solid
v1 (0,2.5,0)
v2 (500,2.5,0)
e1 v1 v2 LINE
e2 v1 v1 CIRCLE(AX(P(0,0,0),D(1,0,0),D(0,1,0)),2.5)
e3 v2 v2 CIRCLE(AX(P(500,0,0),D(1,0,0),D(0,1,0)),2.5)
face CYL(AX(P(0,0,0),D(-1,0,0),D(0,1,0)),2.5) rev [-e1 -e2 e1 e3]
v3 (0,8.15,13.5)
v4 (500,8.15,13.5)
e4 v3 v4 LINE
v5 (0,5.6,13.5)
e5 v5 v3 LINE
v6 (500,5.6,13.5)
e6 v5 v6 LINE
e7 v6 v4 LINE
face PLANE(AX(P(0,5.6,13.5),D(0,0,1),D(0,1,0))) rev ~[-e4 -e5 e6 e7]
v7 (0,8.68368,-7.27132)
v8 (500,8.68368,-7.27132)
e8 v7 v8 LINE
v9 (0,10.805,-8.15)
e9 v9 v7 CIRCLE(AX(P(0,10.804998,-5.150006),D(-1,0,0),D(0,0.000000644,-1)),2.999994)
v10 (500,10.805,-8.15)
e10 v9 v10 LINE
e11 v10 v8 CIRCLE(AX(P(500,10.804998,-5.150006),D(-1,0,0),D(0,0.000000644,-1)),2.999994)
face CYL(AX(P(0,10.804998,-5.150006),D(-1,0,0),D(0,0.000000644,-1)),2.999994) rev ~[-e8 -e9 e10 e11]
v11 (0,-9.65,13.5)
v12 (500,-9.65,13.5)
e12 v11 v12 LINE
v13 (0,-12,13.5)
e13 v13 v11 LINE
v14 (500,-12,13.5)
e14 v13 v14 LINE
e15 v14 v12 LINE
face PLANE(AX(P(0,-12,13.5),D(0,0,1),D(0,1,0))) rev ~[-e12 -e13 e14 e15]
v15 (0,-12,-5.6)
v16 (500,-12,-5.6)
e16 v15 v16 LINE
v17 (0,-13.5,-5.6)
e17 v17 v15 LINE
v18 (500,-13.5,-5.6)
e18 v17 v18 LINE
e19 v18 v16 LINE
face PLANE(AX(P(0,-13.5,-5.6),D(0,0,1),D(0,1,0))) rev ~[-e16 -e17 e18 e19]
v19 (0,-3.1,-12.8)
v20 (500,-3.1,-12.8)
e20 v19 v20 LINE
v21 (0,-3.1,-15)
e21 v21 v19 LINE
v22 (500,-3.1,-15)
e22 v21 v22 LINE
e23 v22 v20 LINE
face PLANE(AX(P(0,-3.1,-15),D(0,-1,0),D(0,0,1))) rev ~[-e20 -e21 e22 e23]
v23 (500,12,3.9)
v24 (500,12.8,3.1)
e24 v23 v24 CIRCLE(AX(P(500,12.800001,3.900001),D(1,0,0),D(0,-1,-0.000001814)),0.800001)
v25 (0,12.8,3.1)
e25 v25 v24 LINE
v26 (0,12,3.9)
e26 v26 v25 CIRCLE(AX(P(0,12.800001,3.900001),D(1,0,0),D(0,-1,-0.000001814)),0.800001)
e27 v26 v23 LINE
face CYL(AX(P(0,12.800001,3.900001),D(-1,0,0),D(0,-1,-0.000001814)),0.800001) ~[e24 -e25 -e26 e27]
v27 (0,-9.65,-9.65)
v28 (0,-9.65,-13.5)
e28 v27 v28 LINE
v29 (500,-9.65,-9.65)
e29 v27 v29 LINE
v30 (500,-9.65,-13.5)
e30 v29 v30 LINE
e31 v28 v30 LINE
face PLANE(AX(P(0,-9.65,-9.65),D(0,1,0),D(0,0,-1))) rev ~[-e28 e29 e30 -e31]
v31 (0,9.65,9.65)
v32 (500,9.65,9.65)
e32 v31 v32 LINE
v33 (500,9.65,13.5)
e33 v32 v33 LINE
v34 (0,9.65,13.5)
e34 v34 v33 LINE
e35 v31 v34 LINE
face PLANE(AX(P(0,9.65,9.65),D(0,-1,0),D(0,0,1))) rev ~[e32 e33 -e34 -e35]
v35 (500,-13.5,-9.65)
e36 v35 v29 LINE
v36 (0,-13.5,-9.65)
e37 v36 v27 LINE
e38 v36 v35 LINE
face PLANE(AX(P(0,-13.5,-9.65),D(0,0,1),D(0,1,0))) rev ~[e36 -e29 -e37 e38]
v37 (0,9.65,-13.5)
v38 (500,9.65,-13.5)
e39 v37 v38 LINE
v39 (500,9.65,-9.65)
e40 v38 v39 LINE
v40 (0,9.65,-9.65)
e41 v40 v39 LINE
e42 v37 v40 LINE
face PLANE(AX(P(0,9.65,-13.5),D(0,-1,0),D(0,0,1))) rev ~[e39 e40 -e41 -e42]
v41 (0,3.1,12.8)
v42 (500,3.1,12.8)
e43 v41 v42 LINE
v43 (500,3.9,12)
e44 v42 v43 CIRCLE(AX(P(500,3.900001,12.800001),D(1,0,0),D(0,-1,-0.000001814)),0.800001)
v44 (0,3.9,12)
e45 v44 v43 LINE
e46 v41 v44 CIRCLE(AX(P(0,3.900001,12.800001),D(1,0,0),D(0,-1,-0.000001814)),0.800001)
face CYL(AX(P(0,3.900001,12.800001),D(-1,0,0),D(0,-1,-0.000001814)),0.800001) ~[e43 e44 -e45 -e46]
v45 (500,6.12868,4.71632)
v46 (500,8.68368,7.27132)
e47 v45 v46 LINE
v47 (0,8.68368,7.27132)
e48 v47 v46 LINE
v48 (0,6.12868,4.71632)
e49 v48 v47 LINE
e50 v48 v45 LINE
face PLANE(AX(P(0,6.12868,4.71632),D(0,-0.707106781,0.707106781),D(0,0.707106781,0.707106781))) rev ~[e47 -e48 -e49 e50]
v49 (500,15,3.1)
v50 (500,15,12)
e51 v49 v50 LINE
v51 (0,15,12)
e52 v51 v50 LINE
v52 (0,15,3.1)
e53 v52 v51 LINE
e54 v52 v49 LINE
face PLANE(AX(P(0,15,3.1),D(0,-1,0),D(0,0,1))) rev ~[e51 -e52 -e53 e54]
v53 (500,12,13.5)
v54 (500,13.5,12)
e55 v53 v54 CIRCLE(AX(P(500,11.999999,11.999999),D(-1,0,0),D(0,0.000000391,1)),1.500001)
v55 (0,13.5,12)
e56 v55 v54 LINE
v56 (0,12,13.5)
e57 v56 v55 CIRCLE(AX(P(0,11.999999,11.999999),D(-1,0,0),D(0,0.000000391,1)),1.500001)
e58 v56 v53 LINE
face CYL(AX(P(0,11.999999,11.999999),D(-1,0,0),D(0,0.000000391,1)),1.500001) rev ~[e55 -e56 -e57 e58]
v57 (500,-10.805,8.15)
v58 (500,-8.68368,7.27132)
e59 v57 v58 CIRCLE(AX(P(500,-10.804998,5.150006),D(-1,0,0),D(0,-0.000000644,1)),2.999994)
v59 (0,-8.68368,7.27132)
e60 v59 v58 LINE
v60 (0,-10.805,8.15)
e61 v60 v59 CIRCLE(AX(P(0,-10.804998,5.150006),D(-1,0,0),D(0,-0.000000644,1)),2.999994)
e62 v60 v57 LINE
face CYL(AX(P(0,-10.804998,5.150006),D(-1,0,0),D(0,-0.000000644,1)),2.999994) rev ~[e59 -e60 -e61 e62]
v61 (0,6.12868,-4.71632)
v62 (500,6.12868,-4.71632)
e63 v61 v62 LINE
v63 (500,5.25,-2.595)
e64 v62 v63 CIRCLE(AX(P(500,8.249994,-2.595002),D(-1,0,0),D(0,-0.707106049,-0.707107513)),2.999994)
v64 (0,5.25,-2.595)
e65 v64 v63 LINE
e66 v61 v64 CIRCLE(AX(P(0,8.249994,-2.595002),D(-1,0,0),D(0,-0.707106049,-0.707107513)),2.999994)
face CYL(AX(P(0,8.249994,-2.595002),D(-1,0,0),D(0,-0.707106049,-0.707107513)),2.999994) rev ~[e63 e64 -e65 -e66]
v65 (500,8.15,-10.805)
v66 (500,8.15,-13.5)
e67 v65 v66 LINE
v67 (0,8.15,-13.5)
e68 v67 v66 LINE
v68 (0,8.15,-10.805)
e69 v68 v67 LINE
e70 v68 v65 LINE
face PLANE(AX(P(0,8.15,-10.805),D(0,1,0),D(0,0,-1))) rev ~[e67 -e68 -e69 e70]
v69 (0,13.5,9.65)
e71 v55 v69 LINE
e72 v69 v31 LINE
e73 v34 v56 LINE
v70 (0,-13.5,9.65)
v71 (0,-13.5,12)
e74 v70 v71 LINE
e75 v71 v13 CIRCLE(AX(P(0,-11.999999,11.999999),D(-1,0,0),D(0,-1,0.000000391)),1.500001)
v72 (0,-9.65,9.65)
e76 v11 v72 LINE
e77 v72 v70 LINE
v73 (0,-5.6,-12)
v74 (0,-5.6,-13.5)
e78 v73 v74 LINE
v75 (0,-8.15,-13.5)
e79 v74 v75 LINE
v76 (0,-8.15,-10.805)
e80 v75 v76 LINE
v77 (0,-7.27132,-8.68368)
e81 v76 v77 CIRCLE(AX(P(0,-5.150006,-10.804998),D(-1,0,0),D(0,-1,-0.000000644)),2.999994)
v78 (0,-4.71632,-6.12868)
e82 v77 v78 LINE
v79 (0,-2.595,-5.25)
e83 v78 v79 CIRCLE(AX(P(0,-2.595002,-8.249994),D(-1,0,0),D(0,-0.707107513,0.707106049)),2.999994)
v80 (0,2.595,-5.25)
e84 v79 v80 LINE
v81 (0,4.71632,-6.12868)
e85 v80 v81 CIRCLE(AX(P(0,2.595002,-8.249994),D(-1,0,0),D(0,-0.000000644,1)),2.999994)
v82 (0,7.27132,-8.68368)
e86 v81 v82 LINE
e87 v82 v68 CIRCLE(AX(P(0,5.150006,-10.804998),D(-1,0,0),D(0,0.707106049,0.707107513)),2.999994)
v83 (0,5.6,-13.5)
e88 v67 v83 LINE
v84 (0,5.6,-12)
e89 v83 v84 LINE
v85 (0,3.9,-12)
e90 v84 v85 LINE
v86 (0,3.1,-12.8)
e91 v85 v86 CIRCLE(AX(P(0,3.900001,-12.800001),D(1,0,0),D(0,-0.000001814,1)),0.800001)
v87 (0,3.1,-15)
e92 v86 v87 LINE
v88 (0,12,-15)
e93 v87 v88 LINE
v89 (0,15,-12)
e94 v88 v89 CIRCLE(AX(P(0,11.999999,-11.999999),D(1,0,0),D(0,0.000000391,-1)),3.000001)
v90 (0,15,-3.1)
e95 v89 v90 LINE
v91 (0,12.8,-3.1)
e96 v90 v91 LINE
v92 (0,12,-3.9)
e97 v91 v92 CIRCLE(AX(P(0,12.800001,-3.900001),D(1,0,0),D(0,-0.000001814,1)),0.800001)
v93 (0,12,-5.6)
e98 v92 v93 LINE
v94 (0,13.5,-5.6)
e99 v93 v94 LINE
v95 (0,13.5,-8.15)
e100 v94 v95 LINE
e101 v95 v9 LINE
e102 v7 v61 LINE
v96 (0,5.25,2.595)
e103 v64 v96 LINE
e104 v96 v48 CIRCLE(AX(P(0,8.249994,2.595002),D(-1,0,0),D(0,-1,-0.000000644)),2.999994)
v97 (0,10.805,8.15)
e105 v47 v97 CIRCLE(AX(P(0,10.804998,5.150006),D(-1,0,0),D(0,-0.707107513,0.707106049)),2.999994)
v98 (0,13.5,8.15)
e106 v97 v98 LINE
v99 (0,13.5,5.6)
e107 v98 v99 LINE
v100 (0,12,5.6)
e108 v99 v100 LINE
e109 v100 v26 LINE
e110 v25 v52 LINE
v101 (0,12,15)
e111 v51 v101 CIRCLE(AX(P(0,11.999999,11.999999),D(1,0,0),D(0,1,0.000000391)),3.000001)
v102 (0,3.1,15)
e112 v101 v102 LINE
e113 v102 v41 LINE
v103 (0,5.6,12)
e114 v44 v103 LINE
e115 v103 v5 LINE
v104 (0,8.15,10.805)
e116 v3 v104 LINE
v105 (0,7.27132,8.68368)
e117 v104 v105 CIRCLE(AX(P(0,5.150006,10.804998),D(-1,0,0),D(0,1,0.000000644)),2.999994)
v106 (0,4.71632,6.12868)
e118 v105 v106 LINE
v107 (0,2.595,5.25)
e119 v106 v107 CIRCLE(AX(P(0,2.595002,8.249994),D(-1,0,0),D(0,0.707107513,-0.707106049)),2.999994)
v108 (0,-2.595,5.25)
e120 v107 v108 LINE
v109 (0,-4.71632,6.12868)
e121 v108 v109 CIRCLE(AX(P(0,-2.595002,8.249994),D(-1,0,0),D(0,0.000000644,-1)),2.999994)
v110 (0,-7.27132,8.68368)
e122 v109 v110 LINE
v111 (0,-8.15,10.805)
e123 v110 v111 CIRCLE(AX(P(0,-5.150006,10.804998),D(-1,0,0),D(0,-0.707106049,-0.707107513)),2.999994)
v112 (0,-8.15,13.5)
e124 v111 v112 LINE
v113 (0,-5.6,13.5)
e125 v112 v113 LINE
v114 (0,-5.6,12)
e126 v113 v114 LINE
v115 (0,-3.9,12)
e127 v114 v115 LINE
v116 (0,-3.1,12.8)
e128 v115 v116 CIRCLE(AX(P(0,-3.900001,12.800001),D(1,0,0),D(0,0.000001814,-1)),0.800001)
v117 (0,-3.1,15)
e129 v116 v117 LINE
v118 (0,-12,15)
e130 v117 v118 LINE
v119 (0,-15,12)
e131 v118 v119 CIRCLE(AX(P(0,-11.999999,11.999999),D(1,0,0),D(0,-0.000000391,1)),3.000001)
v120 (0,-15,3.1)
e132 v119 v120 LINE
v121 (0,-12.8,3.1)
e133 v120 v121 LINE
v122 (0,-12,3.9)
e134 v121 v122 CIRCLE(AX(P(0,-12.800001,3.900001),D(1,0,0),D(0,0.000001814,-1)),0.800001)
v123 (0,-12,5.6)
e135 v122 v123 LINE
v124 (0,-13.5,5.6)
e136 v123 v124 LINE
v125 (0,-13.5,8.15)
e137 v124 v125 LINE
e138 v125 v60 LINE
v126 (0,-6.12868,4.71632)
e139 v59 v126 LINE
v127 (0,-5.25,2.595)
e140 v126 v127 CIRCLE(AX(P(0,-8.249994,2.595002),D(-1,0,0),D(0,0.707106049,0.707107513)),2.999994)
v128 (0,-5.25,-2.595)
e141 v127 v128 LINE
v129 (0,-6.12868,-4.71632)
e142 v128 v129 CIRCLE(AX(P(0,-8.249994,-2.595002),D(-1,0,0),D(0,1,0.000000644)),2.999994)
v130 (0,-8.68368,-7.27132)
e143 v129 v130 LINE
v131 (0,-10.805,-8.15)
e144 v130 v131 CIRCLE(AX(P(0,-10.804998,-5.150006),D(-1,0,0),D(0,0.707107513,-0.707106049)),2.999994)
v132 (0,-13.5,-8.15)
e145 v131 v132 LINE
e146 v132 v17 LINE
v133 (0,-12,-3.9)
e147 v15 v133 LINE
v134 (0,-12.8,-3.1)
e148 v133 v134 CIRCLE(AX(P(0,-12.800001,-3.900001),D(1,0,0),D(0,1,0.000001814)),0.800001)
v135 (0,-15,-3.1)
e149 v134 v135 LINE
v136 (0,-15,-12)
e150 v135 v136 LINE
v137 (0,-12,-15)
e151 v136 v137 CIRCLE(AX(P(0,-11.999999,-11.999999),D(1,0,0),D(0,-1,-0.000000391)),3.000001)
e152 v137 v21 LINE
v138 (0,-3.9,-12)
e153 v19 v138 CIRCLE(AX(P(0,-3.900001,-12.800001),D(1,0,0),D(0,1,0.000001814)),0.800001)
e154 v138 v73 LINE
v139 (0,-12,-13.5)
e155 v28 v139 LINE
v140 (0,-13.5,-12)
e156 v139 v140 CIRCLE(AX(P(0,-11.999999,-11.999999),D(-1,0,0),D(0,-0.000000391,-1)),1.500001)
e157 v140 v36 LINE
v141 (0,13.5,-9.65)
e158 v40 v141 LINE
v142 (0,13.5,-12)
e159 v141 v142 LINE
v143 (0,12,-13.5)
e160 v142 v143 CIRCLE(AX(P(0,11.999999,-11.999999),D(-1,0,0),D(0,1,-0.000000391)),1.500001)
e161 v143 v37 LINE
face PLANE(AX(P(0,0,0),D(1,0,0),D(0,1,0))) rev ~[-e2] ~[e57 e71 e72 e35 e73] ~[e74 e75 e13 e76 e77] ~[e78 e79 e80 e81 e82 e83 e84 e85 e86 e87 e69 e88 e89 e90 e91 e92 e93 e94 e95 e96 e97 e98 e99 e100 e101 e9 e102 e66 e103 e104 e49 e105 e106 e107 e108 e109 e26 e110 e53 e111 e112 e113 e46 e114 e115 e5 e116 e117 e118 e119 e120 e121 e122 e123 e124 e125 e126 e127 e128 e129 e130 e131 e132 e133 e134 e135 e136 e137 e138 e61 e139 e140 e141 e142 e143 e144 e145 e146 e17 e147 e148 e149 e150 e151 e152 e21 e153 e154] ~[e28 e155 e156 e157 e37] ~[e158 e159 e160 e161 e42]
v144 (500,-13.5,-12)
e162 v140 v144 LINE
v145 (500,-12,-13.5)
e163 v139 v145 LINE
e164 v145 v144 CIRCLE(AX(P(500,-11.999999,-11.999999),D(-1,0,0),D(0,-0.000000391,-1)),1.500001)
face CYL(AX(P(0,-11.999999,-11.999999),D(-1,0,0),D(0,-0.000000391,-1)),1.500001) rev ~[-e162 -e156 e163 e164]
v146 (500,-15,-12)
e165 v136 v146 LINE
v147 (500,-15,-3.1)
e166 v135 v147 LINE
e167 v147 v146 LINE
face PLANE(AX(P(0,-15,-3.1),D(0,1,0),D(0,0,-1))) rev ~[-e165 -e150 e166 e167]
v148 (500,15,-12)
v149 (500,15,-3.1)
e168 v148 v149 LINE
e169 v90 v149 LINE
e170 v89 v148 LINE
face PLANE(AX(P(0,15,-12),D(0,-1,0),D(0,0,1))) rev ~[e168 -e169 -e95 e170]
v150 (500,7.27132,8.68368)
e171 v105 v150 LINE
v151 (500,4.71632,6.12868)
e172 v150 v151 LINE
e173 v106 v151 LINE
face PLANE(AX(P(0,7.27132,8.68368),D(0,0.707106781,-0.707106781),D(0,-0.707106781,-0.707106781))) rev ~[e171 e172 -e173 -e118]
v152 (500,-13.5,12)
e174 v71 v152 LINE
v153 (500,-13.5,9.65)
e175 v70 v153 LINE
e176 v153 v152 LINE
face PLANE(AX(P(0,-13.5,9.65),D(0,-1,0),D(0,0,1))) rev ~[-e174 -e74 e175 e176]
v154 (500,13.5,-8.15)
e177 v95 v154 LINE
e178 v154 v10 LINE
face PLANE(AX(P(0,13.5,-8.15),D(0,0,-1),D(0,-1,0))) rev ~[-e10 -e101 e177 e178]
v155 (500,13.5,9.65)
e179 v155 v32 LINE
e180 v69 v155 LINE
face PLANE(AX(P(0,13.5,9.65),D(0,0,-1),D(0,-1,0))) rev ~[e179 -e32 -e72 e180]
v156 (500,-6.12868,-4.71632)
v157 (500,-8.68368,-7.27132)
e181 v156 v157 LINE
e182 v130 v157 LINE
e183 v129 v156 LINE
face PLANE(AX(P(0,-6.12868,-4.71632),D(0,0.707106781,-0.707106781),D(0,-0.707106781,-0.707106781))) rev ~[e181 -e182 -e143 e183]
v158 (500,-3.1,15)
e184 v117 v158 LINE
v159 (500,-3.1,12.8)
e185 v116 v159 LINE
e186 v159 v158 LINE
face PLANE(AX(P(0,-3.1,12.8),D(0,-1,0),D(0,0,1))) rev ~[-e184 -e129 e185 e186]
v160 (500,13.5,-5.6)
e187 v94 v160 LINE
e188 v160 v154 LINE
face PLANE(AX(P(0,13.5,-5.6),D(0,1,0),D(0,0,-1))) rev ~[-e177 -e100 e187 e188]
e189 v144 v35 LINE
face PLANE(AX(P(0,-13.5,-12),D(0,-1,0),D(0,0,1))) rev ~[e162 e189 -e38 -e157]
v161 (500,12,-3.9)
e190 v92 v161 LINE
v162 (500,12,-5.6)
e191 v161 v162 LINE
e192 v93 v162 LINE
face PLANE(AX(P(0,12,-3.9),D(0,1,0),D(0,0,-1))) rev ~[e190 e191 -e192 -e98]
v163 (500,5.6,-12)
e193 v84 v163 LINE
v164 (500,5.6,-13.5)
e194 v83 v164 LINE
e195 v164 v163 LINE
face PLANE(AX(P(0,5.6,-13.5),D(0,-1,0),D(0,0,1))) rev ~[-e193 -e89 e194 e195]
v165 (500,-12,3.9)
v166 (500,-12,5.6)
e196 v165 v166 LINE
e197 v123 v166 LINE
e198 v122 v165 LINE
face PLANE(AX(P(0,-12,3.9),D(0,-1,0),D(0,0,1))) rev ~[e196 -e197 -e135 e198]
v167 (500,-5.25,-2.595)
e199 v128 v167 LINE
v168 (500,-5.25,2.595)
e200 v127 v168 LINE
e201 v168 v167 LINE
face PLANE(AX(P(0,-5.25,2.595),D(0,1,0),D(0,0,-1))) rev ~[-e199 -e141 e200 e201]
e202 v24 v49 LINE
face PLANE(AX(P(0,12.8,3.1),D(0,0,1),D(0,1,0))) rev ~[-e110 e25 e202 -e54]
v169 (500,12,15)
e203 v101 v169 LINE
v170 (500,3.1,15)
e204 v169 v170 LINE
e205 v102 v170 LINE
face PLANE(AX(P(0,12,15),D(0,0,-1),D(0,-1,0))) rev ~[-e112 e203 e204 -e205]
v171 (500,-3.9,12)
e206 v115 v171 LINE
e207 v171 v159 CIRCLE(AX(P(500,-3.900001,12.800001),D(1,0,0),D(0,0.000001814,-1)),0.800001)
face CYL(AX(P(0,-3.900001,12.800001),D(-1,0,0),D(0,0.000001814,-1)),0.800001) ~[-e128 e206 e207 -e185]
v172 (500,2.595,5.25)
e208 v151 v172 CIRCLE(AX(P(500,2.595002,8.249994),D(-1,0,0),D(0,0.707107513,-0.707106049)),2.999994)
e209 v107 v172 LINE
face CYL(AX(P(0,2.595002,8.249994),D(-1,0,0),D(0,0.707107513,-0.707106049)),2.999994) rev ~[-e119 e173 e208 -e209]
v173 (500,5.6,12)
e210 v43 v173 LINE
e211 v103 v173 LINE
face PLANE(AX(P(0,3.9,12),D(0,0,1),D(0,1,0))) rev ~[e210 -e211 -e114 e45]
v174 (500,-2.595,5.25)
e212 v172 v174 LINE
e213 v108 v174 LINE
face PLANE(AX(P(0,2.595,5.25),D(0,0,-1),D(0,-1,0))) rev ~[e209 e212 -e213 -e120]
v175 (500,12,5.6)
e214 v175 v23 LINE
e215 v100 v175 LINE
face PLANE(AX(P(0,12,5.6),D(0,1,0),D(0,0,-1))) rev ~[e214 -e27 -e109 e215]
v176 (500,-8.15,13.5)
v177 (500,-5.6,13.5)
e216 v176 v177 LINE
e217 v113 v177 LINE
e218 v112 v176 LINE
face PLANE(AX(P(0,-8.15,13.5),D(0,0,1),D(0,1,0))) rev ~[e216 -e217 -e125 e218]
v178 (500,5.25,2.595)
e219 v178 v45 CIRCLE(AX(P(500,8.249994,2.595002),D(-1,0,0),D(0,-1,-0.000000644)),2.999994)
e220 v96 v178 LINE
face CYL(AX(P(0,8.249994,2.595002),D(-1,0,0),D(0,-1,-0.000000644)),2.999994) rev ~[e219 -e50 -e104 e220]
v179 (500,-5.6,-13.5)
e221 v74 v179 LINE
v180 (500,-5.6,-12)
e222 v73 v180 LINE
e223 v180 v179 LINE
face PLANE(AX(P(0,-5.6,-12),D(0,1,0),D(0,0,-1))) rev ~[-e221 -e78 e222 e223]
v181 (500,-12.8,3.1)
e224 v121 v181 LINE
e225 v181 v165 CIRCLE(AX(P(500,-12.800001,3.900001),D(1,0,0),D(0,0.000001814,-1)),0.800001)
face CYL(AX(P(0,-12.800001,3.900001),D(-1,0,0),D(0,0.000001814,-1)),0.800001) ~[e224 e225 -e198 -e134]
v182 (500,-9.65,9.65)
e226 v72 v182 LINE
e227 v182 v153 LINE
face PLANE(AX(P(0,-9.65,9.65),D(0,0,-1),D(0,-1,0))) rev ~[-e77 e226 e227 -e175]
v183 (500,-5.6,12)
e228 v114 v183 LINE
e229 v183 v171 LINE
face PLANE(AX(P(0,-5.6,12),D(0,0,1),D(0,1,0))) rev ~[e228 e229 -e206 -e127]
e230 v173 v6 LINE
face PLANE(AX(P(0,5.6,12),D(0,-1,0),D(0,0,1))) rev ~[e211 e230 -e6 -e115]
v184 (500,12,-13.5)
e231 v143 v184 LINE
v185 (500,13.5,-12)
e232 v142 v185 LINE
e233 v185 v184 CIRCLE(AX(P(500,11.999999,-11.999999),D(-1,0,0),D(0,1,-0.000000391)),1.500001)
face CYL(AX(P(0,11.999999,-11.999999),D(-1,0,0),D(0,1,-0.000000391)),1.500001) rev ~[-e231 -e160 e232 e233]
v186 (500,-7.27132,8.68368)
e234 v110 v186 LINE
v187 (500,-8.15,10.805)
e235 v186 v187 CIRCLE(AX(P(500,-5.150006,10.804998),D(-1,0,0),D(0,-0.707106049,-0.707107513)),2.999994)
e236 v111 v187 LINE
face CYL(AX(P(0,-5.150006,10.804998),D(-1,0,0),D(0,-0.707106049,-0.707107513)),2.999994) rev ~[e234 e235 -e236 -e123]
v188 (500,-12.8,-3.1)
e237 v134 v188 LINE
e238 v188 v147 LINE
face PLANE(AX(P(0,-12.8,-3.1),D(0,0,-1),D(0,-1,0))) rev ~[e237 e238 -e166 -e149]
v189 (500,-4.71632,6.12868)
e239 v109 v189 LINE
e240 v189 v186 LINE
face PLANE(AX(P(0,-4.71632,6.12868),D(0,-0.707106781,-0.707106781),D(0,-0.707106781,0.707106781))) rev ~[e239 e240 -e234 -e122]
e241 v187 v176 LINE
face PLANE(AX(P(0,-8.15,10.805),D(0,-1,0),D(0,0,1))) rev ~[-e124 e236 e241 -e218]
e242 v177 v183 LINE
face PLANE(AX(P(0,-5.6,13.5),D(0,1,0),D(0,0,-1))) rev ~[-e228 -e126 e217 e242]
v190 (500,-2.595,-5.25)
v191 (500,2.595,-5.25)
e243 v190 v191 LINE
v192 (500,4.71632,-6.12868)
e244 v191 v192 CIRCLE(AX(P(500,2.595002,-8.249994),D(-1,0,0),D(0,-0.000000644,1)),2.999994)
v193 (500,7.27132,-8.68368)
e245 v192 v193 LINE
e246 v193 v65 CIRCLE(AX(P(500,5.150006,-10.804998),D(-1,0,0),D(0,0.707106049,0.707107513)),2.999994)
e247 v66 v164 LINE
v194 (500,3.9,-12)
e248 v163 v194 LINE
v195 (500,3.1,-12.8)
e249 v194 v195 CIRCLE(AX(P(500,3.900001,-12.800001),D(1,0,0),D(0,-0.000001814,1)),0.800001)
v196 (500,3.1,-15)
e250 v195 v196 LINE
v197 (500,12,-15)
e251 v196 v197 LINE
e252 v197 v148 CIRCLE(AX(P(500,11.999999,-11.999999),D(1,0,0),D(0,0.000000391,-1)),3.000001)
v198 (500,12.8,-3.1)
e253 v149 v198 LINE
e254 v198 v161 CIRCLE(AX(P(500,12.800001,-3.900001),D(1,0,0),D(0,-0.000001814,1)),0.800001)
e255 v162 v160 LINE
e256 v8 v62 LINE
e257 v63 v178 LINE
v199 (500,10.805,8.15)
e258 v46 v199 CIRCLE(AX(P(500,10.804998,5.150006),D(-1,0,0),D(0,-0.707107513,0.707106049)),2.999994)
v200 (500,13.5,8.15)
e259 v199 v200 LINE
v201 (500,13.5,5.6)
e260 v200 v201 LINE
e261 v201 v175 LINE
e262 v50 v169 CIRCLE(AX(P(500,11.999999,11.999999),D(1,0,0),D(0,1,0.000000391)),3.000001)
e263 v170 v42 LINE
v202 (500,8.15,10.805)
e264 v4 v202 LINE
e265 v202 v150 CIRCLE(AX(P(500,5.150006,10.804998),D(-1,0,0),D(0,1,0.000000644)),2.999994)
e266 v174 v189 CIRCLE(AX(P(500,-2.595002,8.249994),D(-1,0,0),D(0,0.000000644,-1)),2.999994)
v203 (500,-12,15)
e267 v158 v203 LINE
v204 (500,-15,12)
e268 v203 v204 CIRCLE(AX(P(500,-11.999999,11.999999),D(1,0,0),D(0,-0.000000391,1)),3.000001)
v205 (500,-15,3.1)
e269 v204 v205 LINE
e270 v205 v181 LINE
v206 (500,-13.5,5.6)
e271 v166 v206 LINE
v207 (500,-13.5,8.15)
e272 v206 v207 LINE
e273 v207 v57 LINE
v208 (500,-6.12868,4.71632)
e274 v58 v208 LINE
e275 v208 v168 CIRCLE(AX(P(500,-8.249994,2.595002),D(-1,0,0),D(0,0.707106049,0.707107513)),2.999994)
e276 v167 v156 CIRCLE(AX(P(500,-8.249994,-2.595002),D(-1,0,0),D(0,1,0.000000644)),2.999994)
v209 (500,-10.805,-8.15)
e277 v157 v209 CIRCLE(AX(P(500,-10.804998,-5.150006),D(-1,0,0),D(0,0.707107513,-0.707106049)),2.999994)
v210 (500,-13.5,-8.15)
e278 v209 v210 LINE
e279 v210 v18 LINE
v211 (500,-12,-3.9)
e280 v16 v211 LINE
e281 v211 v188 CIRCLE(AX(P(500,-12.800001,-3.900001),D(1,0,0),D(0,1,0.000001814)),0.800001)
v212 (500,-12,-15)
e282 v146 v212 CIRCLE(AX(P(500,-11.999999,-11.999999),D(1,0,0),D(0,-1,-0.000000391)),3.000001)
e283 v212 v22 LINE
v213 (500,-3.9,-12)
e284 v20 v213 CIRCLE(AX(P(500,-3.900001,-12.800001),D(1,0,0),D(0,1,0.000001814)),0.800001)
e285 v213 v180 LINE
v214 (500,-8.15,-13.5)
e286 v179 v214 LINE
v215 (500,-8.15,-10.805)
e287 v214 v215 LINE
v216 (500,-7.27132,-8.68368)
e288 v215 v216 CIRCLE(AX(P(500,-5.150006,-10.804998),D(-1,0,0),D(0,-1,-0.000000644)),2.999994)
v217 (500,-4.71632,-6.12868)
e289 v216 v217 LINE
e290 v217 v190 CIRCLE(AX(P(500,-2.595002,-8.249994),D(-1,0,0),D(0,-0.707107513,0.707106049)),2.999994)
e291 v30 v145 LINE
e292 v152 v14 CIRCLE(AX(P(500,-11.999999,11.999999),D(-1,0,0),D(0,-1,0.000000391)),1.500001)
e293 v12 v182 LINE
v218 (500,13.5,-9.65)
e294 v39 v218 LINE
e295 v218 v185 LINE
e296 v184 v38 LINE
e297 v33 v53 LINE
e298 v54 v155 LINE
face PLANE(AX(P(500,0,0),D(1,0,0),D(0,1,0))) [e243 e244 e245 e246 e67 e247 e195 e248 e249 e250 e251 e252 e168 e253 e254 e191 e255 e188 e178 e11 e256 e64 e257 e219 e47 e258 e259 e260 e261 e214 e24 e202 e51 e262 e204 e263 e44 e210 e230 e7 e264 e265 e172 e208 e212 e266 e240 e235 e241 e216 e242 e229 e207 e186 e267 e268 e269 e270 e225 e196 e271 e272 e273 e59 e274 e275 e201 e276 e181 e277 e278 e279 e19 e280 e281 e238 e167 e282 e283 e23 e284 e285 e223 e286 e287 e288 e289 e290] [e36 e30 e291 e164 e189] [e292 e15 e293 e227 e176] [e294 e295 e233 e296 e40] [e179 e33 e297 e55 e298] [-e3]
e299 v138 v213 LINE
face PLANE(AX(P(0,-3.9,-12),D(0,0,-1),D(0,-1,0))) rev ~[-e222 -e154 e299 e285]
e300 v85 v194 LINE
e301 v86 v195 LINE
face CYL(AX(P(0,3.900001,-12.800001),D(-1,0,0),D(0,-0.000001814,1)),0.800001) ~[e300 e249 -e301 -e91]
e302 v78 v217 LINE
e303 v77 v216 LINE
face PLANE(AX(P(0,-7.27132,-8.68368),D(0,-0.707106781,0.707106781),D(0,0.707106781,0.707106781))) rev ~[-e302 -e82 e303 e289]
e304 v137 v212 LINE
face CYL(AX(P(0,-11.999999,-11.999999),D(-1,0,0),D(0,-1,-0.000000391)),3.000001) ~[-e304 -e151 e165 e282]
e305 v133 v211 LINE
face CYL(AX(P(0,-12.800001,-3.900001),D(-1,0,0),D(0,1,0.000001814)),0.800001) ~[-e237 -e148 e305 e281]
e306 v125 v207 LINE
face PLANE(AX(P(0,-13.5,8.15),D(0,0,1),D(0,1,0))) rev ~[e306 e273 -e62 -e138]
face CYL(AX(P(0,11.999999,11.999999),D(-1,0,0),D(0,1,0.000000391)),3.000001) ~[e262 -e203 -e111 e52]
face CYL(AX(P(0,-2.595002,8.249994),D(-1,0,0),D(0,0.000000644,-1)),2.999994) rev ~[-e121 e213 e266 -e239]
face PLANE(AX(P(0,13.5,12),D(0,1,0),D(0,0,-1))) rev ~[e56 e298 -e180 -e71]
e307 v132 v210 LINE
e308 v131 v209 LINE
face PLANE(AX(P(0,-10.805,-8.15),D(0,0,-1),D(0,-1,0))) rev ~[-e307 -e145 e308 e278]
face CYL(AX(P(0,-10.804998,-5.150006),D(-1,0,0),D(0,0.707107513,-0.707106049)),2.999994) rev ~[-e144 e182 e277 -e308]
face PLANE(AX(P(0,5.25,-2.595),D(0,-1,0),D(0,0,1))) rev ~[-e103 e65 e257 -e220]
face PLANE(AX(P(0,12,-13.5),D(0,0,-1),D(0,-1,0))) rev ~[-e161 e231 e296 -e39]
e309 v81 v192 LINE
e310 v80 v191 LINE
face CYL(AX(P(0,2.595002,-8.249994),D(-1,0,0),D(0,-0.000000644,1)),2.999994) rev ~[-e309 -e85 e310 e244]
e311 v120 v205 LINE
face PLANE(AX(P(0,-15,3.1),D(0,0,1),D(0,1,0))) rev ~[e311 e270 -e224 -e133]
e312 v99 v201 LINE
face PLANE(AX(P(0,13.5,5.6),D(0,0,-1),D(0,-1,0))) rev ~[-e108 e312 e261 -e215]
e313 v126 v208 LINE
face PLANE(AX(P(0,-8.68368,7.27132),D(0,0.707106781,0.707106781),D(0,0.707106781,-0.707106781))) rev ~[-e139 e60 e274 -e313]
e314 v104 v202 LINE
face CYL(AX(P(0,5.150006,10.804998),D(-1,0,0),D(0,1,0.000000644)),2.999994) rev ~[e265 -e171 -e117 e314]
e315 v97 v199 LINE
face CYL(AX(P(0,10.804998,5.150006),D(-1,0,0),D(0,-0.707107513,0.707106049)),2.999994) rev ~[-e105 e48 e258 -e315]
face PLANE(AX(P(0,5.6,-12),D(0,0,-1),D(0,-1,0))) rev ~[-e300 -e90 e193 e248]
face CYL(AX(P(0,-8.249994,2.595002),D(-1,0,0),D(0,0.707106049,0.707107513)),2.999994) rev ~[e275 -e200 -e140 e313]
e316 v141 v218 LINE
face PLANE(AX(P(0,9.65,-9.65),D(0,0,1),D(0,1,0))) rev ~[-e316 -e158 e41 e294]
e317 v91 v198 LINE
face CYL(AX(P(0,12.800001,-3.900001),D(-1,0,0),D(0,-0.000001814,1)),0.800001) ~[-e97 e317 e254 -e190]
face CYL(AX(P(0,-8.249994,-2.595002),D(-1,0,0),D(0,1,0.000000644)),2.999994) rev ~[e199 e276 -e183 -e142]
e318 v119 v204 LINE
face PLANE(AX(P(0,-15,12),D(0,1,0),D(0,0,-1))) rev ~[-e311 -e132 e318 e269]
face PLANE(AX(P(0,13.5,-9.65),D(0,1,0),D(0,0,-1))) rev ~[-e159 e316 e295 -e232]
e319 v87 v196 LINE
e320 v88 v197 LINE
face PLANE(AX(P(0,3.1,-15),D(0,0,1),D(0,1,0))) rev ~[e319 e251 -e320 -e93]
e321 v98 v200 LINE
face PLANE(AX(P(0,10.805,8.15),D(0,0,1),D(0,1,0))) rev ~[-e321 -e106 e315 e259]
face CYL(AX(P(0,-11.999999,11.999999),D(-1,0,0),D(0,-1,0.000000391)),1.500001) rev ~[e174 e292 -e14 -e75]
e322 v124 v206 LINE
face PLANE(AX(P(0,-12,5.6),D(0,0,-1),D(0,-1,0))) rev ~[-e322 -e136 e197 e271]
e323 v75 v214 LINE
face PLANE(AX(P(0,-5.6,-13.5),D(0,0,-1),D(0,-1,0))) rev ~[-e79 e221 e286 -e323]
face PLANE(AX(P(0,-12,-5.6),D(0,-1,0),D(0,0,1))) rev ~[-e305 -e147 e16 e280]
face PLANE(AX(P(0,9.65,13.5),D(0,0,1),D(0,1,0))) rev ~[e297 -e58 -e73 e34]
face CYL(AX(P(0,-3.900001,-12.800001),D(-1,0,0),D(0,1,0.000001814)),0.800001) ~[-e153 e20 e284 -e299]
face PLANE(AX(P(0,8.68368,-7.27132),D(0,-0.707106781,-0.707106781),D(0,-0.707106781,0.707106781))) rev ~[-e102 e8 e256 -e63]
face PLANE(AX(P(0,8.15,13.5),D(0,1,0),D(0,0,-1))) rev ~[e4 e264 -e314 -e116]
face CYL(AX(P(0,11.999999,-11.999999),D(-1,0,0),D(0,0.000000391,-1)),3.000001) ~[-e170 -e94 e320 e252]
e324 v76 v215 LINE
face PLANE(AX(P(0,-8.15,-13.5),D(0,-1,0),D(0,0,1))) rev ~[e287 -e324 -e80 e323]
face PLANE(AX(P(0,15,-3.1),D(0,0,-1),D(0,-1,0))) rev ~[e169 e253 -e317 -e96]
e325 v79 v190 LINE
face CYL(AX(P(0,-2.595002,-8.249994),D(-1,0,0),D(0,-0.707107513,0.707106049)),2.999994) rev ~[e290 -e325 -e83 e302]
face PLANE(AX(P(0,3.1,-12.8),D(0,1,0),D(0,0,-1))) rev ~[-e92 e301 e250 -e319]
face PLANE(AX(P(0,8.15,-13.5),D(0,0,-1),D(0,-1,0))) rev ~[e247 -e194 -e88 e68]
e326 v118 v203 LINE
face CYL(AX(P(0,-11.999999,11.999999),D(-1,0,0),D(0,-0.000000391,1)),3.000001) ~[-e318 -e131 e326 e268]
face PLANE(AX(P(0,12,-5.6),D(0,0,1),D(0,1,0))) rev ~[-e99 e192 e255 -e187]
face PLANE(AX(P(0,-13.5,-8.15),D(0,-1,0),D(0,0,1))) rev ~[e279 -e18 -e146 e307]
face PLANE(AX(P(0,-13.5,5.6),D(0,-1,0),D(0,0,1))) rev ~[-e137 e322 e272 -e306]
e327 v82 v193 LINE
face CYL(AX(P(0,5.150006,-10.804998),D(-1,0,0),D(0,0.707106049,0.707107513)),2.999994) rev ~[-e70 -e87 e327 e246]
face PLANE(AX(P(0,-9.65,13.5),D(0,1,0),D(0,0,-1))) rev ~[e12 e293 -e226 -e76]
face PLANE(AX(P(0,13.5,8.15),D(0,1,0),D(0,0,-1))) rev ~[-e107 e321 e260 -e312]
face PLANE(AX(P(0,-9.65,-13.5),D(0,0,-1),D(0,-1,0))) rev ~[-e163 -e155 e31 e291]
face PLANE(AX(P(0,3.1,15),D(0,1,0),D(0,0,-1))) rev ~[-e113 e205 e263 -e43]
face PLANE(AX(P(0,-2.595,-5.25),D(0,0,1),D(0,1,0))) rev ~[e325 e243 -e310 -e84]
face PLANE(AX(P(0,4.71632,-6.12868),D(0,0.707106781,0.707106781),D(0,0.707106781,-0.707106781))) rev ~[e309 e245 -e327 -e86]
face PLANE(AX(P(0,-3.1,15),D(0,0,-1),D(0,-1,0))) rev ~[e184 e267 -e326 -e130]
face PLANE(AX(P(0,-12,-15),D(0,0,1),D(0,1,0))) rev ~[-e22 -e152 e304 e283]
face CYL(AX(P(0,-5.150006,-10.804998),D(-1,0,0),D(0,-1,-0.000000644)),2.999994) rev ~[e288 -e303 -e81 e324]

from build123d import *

# Parameters (mm, degrees)
F0_R     = 2.5
F1_DEPTH = 500


with BuildPart() as f1:
    # F0 (on Right) → F1 (new body)
    with BuildSketch(Plane.YZ):
        with BuildLine():
            Line((-3.1, 15), (-12, 15))
            ThreePointArc((-12, 15), (-14.12132, 14.12132), (-15, 12))
            Line((-15, 12), (-15, 3.1))
            Line((-15, 3.1), (-12.8, 3.1))
            ThreePointArc((-12.8, 3.1), (-12.234315, 3.334315), (-12, 3.9))
            Line((-12, 3.9), (-12, 5.6))
            Line((-12, 5.6), (-13.5, 5.6))
            Line((-13.5, 5.6), (-13.5, 8.15))
            Line((-13.5, 8.15), (-10.805, 8.15))
            ThreePointArc((-10.805, 8.15), (-9.65695, 7.921639), (-8.68368, 7.27132))
            Line((-8.68368, 7.27132), (-6.12868, 4.71632))
            ThreePointArc((-6.12868, 4.71632), (-5.478361, 3.74305), (-5.25, 2.595))
            Line((-5.25, 2.595), (-5.25, -2.595))
            ThreePointArc((-5.25, -2.595), (-5.478361, -3.74305), (-6.12868, -4.71632))
            Line((-6.12868, -4.71632), (-8.68368, -7.27132))
            ThreePointArc((-8.68368, -7.27132), (-9.65695, -7.921639), (-10.805, -8.15))
            Line((-10.805, -8.15), (-13.5, -8.15))
            Line((-13.5, -8.15), (-13.5, -5.6))
            Line((-13.5, -5.6), (-12, -5.6))
            Line((-12, -5.6), (-12, -3.9))
            ThreePointArc((-12, -3.9), (-12.234315, -3.334315), (-12.8, -3.1))
            Line((-12.8, -3.1), (-15, -3.1))
            Line((-15, -3.1), (-15, -12))
            ThreePointArc((-15, -12), (-14.12132, -14.12132), (-12, -15))
            Line((-12, -15), (-3.1, -15))
            Line((-3.1, -15), (-3.1, -12.8))
            ThreePointArc((-3.1, -12.8), (-3.334315, -12.234315), (-3.9, -12))
            Line((-3.9, -12), (-5.6, -12))
            Line((-5.6, -12), (-5.6, -13.5))
            Line((-5.6, -13.5), (-8.15, -13.5))
            Line((-8.15, -13.5), (-8.15, -10.805))
            ThreePointArc((-8.15, -10.805), (-7.921639, -9.65695), (-7.27132, -8.68368))
            Line((-7.27132, -8.68368), (-4.71632, -6.12868))
            ThreePointArc((-4.71632, -6.12868), (-3.74305, -5.478361), (-2.595, -5.25))
            Line((-2.595, -5.25), (2.595, -5.25))
            ThreePointArc((2.595, -5.25), (3.74305, -5.478361), (4.71632, -6.12868))
            Line((4.71632, -6.12868), (7.27132, -8.68368))
            ThreePointArc((7.27132, -8.68368), (7.921639, -9.65695), (8.15, -10.805))
            Line((8.15, -10.805), (8.15, -13.5))
            Line((8.15, -13.5), (5.6, -13.5))
            Line((5.6, -13.5), (5.6, -12))
            Line((5.6, -12), (3.9, -12))
            ThreePointArc((3.9, -12), (3.334315, -12.234315), (3.1, -12.8))
            Line((3.1, -12.8), (3.1, -15))
            Line((3.1, -15), (12, -15))
            ThreePointArc((12, -15), (14.12132, -14.12132), (15, -12))
            Line((15, -12), (15, -3.1))
            Line((15, -3.1), (12.8, -3.1))
            ThreePointArc((12.8, -3.1), (12.234315, -3.334315), (12, -3.9))
            Line((12, -3.9), (12, -5.6))
            Line((12, -5.6), (13.5, -5.6))
            Line((13.5, -5.6), (13.5, -8.15))
            Line((13.5, -8.15), (10.805, -8.15))
            ThreePointArc((10.805, -8.15), (9.65695, -7.921639), (8.68368, -7.27132))
            Line((8.68368, -7.27132), (6.12868, -4.71632))
            ThreePointArc((6.12868, -4.71632), (5.478361, -3.74305), (5.25, -2.595))
            Line((5.25, -2.595), (5.25, 2.595))
            ThreePointArc((5.25, 2.595), (5.478361, 3.74305), (6.12868, 4.71632))
            Line((6.12868, 4.71632), (8.68368, 7.27132))
            ThreePointArc((8.68368, 7.27132), (9.65695, 7.921639), (10.805, 8.15))
            Line((10.805, 8.15), (13.5, 8.15))
            Line((13.5, 8.15), (13.5, 5.6))
            Line((13.5, 5.6), (12, 5.6))
            Line((12, 5.6), (12, 3.9))
            ThreePointArc((12, 3.9), (12.234315, 3.334315), (12.8, 3.1))
            Line((12.8, 3.1), (15, 3.1))
            Line((15, 3.1), (15, 12))
            ThreePointArc((15, 12), (14.12132, 14.12132), (12, 15))
            Line((12, 15), (3.1, 15))
            Line((3.1, 15), (3.1, 12.8))
            ThreePointArc((3.1, 12.8), (3.334315, 12.234315), (3.9, 12))
            Line((3.9, 12), (5.6, 12))
            Line((5.6, 12), (5.6, 13.5))
            Line((5.6, 13.5), (8.15, 13.5))
            Line((8.15, 13.5), (8.15, 10.805))
            ThreePointArc((8.15, 10.805), (7.921639, 9.65695), (7.27132, 8.68368))
            Line((7.27132, 8.68368), (4.71632, 6.12868))
            ThreePointArc((4.71632, 6.12868), (3.74305, 5.478361), (2.595, 5.25))
            Line((2.595, 5.25), (-2.595, 5.25))
            ThreePointArc((-2.595, 5.25), (-3.74305, 5.478361), (-4.71632, 6.12868))
            Line((-4.71632, 6.12868), (-7.27132, 8.68368))
            ThreePointArc((-7.27132, 8.68368), (-7.921639, 9.65695), (-8.15, 10.805))
            Line((-8.15, 10.805), (-8.15, 13.5))
            Line((-8.15, 13.5), (-5.6, 13.5))
            Line((-5.6, 13.5), (-5.6, 12))
            Line((-5.6, 12), (-3.9, 12))
            ThreePointArc((-3.9, 12), (-3.334315, 12.234315), (-3.1, 12.8))
            Line((-3.1, 12.8), (-3.1, 15))
        make_face()
        with BuildLine():
            ThreePointArc((-12, -13.5), (-13.06066, -13.06066), (-13.5, -12))
            Line((-13.5, -12), (-13.5, -9.65))
            Line((-13.5, -9.65), (-9.65, -9.65))
            Line((-9.65, -9.65), (-9.65, -13.5))
            Line((-9.65, -13.5), (-12, -13.5))
        make_face(mode=Mode.SUBTRACT)
        with BuildLine():
            ThreePointArc((13.5, -12), (13.06066, -13.06066), (12, -13.5))
            Line((12, -13.5), (9.65, -13.5))
            Line((9.65, -13.5), (9.65, -9.65))
            Line((9.65, -9.65), (13.5, -9.65))
            Line((13.5, -9.65), (13.5, -12))
        make_face(mode=Mode.SUBTRACT)
        Circle(F0_R, mode=Mode.SUBTRACT)
        with BuildLine():
            ThreePointArc((-13.5, 12), (-13.06066, 13.06066), (-12, 13.5))
            Line((-12, 13.5), (-9.65, 13.5))
            Line((-9.65, 13.5), (-9.65, 9.65))
            Line((-9.65, 9.65), (-13.5, 9.65))
            Line((-13.5, 9.65), (-13.5, 12))
        make_face(mode=Mode.SUBTRACT)
        with BuildLine():
            ThreePointArc((12, 13.5), (13.06066, 13.06066), (13.5, 12))
            Line((13.5, 12), (13.5, 9.65))
            Line((13.5, 9.65), (9.65, 9.65))
            Line((9.65, 9.65), (9.65, 13.5))
            Line((9.65, 13.5), (12, 13.5))
        make_face(mode=Mode.SUBTRACT)
    extrude(amount=F1_DEPTH)


solid = f1.part
